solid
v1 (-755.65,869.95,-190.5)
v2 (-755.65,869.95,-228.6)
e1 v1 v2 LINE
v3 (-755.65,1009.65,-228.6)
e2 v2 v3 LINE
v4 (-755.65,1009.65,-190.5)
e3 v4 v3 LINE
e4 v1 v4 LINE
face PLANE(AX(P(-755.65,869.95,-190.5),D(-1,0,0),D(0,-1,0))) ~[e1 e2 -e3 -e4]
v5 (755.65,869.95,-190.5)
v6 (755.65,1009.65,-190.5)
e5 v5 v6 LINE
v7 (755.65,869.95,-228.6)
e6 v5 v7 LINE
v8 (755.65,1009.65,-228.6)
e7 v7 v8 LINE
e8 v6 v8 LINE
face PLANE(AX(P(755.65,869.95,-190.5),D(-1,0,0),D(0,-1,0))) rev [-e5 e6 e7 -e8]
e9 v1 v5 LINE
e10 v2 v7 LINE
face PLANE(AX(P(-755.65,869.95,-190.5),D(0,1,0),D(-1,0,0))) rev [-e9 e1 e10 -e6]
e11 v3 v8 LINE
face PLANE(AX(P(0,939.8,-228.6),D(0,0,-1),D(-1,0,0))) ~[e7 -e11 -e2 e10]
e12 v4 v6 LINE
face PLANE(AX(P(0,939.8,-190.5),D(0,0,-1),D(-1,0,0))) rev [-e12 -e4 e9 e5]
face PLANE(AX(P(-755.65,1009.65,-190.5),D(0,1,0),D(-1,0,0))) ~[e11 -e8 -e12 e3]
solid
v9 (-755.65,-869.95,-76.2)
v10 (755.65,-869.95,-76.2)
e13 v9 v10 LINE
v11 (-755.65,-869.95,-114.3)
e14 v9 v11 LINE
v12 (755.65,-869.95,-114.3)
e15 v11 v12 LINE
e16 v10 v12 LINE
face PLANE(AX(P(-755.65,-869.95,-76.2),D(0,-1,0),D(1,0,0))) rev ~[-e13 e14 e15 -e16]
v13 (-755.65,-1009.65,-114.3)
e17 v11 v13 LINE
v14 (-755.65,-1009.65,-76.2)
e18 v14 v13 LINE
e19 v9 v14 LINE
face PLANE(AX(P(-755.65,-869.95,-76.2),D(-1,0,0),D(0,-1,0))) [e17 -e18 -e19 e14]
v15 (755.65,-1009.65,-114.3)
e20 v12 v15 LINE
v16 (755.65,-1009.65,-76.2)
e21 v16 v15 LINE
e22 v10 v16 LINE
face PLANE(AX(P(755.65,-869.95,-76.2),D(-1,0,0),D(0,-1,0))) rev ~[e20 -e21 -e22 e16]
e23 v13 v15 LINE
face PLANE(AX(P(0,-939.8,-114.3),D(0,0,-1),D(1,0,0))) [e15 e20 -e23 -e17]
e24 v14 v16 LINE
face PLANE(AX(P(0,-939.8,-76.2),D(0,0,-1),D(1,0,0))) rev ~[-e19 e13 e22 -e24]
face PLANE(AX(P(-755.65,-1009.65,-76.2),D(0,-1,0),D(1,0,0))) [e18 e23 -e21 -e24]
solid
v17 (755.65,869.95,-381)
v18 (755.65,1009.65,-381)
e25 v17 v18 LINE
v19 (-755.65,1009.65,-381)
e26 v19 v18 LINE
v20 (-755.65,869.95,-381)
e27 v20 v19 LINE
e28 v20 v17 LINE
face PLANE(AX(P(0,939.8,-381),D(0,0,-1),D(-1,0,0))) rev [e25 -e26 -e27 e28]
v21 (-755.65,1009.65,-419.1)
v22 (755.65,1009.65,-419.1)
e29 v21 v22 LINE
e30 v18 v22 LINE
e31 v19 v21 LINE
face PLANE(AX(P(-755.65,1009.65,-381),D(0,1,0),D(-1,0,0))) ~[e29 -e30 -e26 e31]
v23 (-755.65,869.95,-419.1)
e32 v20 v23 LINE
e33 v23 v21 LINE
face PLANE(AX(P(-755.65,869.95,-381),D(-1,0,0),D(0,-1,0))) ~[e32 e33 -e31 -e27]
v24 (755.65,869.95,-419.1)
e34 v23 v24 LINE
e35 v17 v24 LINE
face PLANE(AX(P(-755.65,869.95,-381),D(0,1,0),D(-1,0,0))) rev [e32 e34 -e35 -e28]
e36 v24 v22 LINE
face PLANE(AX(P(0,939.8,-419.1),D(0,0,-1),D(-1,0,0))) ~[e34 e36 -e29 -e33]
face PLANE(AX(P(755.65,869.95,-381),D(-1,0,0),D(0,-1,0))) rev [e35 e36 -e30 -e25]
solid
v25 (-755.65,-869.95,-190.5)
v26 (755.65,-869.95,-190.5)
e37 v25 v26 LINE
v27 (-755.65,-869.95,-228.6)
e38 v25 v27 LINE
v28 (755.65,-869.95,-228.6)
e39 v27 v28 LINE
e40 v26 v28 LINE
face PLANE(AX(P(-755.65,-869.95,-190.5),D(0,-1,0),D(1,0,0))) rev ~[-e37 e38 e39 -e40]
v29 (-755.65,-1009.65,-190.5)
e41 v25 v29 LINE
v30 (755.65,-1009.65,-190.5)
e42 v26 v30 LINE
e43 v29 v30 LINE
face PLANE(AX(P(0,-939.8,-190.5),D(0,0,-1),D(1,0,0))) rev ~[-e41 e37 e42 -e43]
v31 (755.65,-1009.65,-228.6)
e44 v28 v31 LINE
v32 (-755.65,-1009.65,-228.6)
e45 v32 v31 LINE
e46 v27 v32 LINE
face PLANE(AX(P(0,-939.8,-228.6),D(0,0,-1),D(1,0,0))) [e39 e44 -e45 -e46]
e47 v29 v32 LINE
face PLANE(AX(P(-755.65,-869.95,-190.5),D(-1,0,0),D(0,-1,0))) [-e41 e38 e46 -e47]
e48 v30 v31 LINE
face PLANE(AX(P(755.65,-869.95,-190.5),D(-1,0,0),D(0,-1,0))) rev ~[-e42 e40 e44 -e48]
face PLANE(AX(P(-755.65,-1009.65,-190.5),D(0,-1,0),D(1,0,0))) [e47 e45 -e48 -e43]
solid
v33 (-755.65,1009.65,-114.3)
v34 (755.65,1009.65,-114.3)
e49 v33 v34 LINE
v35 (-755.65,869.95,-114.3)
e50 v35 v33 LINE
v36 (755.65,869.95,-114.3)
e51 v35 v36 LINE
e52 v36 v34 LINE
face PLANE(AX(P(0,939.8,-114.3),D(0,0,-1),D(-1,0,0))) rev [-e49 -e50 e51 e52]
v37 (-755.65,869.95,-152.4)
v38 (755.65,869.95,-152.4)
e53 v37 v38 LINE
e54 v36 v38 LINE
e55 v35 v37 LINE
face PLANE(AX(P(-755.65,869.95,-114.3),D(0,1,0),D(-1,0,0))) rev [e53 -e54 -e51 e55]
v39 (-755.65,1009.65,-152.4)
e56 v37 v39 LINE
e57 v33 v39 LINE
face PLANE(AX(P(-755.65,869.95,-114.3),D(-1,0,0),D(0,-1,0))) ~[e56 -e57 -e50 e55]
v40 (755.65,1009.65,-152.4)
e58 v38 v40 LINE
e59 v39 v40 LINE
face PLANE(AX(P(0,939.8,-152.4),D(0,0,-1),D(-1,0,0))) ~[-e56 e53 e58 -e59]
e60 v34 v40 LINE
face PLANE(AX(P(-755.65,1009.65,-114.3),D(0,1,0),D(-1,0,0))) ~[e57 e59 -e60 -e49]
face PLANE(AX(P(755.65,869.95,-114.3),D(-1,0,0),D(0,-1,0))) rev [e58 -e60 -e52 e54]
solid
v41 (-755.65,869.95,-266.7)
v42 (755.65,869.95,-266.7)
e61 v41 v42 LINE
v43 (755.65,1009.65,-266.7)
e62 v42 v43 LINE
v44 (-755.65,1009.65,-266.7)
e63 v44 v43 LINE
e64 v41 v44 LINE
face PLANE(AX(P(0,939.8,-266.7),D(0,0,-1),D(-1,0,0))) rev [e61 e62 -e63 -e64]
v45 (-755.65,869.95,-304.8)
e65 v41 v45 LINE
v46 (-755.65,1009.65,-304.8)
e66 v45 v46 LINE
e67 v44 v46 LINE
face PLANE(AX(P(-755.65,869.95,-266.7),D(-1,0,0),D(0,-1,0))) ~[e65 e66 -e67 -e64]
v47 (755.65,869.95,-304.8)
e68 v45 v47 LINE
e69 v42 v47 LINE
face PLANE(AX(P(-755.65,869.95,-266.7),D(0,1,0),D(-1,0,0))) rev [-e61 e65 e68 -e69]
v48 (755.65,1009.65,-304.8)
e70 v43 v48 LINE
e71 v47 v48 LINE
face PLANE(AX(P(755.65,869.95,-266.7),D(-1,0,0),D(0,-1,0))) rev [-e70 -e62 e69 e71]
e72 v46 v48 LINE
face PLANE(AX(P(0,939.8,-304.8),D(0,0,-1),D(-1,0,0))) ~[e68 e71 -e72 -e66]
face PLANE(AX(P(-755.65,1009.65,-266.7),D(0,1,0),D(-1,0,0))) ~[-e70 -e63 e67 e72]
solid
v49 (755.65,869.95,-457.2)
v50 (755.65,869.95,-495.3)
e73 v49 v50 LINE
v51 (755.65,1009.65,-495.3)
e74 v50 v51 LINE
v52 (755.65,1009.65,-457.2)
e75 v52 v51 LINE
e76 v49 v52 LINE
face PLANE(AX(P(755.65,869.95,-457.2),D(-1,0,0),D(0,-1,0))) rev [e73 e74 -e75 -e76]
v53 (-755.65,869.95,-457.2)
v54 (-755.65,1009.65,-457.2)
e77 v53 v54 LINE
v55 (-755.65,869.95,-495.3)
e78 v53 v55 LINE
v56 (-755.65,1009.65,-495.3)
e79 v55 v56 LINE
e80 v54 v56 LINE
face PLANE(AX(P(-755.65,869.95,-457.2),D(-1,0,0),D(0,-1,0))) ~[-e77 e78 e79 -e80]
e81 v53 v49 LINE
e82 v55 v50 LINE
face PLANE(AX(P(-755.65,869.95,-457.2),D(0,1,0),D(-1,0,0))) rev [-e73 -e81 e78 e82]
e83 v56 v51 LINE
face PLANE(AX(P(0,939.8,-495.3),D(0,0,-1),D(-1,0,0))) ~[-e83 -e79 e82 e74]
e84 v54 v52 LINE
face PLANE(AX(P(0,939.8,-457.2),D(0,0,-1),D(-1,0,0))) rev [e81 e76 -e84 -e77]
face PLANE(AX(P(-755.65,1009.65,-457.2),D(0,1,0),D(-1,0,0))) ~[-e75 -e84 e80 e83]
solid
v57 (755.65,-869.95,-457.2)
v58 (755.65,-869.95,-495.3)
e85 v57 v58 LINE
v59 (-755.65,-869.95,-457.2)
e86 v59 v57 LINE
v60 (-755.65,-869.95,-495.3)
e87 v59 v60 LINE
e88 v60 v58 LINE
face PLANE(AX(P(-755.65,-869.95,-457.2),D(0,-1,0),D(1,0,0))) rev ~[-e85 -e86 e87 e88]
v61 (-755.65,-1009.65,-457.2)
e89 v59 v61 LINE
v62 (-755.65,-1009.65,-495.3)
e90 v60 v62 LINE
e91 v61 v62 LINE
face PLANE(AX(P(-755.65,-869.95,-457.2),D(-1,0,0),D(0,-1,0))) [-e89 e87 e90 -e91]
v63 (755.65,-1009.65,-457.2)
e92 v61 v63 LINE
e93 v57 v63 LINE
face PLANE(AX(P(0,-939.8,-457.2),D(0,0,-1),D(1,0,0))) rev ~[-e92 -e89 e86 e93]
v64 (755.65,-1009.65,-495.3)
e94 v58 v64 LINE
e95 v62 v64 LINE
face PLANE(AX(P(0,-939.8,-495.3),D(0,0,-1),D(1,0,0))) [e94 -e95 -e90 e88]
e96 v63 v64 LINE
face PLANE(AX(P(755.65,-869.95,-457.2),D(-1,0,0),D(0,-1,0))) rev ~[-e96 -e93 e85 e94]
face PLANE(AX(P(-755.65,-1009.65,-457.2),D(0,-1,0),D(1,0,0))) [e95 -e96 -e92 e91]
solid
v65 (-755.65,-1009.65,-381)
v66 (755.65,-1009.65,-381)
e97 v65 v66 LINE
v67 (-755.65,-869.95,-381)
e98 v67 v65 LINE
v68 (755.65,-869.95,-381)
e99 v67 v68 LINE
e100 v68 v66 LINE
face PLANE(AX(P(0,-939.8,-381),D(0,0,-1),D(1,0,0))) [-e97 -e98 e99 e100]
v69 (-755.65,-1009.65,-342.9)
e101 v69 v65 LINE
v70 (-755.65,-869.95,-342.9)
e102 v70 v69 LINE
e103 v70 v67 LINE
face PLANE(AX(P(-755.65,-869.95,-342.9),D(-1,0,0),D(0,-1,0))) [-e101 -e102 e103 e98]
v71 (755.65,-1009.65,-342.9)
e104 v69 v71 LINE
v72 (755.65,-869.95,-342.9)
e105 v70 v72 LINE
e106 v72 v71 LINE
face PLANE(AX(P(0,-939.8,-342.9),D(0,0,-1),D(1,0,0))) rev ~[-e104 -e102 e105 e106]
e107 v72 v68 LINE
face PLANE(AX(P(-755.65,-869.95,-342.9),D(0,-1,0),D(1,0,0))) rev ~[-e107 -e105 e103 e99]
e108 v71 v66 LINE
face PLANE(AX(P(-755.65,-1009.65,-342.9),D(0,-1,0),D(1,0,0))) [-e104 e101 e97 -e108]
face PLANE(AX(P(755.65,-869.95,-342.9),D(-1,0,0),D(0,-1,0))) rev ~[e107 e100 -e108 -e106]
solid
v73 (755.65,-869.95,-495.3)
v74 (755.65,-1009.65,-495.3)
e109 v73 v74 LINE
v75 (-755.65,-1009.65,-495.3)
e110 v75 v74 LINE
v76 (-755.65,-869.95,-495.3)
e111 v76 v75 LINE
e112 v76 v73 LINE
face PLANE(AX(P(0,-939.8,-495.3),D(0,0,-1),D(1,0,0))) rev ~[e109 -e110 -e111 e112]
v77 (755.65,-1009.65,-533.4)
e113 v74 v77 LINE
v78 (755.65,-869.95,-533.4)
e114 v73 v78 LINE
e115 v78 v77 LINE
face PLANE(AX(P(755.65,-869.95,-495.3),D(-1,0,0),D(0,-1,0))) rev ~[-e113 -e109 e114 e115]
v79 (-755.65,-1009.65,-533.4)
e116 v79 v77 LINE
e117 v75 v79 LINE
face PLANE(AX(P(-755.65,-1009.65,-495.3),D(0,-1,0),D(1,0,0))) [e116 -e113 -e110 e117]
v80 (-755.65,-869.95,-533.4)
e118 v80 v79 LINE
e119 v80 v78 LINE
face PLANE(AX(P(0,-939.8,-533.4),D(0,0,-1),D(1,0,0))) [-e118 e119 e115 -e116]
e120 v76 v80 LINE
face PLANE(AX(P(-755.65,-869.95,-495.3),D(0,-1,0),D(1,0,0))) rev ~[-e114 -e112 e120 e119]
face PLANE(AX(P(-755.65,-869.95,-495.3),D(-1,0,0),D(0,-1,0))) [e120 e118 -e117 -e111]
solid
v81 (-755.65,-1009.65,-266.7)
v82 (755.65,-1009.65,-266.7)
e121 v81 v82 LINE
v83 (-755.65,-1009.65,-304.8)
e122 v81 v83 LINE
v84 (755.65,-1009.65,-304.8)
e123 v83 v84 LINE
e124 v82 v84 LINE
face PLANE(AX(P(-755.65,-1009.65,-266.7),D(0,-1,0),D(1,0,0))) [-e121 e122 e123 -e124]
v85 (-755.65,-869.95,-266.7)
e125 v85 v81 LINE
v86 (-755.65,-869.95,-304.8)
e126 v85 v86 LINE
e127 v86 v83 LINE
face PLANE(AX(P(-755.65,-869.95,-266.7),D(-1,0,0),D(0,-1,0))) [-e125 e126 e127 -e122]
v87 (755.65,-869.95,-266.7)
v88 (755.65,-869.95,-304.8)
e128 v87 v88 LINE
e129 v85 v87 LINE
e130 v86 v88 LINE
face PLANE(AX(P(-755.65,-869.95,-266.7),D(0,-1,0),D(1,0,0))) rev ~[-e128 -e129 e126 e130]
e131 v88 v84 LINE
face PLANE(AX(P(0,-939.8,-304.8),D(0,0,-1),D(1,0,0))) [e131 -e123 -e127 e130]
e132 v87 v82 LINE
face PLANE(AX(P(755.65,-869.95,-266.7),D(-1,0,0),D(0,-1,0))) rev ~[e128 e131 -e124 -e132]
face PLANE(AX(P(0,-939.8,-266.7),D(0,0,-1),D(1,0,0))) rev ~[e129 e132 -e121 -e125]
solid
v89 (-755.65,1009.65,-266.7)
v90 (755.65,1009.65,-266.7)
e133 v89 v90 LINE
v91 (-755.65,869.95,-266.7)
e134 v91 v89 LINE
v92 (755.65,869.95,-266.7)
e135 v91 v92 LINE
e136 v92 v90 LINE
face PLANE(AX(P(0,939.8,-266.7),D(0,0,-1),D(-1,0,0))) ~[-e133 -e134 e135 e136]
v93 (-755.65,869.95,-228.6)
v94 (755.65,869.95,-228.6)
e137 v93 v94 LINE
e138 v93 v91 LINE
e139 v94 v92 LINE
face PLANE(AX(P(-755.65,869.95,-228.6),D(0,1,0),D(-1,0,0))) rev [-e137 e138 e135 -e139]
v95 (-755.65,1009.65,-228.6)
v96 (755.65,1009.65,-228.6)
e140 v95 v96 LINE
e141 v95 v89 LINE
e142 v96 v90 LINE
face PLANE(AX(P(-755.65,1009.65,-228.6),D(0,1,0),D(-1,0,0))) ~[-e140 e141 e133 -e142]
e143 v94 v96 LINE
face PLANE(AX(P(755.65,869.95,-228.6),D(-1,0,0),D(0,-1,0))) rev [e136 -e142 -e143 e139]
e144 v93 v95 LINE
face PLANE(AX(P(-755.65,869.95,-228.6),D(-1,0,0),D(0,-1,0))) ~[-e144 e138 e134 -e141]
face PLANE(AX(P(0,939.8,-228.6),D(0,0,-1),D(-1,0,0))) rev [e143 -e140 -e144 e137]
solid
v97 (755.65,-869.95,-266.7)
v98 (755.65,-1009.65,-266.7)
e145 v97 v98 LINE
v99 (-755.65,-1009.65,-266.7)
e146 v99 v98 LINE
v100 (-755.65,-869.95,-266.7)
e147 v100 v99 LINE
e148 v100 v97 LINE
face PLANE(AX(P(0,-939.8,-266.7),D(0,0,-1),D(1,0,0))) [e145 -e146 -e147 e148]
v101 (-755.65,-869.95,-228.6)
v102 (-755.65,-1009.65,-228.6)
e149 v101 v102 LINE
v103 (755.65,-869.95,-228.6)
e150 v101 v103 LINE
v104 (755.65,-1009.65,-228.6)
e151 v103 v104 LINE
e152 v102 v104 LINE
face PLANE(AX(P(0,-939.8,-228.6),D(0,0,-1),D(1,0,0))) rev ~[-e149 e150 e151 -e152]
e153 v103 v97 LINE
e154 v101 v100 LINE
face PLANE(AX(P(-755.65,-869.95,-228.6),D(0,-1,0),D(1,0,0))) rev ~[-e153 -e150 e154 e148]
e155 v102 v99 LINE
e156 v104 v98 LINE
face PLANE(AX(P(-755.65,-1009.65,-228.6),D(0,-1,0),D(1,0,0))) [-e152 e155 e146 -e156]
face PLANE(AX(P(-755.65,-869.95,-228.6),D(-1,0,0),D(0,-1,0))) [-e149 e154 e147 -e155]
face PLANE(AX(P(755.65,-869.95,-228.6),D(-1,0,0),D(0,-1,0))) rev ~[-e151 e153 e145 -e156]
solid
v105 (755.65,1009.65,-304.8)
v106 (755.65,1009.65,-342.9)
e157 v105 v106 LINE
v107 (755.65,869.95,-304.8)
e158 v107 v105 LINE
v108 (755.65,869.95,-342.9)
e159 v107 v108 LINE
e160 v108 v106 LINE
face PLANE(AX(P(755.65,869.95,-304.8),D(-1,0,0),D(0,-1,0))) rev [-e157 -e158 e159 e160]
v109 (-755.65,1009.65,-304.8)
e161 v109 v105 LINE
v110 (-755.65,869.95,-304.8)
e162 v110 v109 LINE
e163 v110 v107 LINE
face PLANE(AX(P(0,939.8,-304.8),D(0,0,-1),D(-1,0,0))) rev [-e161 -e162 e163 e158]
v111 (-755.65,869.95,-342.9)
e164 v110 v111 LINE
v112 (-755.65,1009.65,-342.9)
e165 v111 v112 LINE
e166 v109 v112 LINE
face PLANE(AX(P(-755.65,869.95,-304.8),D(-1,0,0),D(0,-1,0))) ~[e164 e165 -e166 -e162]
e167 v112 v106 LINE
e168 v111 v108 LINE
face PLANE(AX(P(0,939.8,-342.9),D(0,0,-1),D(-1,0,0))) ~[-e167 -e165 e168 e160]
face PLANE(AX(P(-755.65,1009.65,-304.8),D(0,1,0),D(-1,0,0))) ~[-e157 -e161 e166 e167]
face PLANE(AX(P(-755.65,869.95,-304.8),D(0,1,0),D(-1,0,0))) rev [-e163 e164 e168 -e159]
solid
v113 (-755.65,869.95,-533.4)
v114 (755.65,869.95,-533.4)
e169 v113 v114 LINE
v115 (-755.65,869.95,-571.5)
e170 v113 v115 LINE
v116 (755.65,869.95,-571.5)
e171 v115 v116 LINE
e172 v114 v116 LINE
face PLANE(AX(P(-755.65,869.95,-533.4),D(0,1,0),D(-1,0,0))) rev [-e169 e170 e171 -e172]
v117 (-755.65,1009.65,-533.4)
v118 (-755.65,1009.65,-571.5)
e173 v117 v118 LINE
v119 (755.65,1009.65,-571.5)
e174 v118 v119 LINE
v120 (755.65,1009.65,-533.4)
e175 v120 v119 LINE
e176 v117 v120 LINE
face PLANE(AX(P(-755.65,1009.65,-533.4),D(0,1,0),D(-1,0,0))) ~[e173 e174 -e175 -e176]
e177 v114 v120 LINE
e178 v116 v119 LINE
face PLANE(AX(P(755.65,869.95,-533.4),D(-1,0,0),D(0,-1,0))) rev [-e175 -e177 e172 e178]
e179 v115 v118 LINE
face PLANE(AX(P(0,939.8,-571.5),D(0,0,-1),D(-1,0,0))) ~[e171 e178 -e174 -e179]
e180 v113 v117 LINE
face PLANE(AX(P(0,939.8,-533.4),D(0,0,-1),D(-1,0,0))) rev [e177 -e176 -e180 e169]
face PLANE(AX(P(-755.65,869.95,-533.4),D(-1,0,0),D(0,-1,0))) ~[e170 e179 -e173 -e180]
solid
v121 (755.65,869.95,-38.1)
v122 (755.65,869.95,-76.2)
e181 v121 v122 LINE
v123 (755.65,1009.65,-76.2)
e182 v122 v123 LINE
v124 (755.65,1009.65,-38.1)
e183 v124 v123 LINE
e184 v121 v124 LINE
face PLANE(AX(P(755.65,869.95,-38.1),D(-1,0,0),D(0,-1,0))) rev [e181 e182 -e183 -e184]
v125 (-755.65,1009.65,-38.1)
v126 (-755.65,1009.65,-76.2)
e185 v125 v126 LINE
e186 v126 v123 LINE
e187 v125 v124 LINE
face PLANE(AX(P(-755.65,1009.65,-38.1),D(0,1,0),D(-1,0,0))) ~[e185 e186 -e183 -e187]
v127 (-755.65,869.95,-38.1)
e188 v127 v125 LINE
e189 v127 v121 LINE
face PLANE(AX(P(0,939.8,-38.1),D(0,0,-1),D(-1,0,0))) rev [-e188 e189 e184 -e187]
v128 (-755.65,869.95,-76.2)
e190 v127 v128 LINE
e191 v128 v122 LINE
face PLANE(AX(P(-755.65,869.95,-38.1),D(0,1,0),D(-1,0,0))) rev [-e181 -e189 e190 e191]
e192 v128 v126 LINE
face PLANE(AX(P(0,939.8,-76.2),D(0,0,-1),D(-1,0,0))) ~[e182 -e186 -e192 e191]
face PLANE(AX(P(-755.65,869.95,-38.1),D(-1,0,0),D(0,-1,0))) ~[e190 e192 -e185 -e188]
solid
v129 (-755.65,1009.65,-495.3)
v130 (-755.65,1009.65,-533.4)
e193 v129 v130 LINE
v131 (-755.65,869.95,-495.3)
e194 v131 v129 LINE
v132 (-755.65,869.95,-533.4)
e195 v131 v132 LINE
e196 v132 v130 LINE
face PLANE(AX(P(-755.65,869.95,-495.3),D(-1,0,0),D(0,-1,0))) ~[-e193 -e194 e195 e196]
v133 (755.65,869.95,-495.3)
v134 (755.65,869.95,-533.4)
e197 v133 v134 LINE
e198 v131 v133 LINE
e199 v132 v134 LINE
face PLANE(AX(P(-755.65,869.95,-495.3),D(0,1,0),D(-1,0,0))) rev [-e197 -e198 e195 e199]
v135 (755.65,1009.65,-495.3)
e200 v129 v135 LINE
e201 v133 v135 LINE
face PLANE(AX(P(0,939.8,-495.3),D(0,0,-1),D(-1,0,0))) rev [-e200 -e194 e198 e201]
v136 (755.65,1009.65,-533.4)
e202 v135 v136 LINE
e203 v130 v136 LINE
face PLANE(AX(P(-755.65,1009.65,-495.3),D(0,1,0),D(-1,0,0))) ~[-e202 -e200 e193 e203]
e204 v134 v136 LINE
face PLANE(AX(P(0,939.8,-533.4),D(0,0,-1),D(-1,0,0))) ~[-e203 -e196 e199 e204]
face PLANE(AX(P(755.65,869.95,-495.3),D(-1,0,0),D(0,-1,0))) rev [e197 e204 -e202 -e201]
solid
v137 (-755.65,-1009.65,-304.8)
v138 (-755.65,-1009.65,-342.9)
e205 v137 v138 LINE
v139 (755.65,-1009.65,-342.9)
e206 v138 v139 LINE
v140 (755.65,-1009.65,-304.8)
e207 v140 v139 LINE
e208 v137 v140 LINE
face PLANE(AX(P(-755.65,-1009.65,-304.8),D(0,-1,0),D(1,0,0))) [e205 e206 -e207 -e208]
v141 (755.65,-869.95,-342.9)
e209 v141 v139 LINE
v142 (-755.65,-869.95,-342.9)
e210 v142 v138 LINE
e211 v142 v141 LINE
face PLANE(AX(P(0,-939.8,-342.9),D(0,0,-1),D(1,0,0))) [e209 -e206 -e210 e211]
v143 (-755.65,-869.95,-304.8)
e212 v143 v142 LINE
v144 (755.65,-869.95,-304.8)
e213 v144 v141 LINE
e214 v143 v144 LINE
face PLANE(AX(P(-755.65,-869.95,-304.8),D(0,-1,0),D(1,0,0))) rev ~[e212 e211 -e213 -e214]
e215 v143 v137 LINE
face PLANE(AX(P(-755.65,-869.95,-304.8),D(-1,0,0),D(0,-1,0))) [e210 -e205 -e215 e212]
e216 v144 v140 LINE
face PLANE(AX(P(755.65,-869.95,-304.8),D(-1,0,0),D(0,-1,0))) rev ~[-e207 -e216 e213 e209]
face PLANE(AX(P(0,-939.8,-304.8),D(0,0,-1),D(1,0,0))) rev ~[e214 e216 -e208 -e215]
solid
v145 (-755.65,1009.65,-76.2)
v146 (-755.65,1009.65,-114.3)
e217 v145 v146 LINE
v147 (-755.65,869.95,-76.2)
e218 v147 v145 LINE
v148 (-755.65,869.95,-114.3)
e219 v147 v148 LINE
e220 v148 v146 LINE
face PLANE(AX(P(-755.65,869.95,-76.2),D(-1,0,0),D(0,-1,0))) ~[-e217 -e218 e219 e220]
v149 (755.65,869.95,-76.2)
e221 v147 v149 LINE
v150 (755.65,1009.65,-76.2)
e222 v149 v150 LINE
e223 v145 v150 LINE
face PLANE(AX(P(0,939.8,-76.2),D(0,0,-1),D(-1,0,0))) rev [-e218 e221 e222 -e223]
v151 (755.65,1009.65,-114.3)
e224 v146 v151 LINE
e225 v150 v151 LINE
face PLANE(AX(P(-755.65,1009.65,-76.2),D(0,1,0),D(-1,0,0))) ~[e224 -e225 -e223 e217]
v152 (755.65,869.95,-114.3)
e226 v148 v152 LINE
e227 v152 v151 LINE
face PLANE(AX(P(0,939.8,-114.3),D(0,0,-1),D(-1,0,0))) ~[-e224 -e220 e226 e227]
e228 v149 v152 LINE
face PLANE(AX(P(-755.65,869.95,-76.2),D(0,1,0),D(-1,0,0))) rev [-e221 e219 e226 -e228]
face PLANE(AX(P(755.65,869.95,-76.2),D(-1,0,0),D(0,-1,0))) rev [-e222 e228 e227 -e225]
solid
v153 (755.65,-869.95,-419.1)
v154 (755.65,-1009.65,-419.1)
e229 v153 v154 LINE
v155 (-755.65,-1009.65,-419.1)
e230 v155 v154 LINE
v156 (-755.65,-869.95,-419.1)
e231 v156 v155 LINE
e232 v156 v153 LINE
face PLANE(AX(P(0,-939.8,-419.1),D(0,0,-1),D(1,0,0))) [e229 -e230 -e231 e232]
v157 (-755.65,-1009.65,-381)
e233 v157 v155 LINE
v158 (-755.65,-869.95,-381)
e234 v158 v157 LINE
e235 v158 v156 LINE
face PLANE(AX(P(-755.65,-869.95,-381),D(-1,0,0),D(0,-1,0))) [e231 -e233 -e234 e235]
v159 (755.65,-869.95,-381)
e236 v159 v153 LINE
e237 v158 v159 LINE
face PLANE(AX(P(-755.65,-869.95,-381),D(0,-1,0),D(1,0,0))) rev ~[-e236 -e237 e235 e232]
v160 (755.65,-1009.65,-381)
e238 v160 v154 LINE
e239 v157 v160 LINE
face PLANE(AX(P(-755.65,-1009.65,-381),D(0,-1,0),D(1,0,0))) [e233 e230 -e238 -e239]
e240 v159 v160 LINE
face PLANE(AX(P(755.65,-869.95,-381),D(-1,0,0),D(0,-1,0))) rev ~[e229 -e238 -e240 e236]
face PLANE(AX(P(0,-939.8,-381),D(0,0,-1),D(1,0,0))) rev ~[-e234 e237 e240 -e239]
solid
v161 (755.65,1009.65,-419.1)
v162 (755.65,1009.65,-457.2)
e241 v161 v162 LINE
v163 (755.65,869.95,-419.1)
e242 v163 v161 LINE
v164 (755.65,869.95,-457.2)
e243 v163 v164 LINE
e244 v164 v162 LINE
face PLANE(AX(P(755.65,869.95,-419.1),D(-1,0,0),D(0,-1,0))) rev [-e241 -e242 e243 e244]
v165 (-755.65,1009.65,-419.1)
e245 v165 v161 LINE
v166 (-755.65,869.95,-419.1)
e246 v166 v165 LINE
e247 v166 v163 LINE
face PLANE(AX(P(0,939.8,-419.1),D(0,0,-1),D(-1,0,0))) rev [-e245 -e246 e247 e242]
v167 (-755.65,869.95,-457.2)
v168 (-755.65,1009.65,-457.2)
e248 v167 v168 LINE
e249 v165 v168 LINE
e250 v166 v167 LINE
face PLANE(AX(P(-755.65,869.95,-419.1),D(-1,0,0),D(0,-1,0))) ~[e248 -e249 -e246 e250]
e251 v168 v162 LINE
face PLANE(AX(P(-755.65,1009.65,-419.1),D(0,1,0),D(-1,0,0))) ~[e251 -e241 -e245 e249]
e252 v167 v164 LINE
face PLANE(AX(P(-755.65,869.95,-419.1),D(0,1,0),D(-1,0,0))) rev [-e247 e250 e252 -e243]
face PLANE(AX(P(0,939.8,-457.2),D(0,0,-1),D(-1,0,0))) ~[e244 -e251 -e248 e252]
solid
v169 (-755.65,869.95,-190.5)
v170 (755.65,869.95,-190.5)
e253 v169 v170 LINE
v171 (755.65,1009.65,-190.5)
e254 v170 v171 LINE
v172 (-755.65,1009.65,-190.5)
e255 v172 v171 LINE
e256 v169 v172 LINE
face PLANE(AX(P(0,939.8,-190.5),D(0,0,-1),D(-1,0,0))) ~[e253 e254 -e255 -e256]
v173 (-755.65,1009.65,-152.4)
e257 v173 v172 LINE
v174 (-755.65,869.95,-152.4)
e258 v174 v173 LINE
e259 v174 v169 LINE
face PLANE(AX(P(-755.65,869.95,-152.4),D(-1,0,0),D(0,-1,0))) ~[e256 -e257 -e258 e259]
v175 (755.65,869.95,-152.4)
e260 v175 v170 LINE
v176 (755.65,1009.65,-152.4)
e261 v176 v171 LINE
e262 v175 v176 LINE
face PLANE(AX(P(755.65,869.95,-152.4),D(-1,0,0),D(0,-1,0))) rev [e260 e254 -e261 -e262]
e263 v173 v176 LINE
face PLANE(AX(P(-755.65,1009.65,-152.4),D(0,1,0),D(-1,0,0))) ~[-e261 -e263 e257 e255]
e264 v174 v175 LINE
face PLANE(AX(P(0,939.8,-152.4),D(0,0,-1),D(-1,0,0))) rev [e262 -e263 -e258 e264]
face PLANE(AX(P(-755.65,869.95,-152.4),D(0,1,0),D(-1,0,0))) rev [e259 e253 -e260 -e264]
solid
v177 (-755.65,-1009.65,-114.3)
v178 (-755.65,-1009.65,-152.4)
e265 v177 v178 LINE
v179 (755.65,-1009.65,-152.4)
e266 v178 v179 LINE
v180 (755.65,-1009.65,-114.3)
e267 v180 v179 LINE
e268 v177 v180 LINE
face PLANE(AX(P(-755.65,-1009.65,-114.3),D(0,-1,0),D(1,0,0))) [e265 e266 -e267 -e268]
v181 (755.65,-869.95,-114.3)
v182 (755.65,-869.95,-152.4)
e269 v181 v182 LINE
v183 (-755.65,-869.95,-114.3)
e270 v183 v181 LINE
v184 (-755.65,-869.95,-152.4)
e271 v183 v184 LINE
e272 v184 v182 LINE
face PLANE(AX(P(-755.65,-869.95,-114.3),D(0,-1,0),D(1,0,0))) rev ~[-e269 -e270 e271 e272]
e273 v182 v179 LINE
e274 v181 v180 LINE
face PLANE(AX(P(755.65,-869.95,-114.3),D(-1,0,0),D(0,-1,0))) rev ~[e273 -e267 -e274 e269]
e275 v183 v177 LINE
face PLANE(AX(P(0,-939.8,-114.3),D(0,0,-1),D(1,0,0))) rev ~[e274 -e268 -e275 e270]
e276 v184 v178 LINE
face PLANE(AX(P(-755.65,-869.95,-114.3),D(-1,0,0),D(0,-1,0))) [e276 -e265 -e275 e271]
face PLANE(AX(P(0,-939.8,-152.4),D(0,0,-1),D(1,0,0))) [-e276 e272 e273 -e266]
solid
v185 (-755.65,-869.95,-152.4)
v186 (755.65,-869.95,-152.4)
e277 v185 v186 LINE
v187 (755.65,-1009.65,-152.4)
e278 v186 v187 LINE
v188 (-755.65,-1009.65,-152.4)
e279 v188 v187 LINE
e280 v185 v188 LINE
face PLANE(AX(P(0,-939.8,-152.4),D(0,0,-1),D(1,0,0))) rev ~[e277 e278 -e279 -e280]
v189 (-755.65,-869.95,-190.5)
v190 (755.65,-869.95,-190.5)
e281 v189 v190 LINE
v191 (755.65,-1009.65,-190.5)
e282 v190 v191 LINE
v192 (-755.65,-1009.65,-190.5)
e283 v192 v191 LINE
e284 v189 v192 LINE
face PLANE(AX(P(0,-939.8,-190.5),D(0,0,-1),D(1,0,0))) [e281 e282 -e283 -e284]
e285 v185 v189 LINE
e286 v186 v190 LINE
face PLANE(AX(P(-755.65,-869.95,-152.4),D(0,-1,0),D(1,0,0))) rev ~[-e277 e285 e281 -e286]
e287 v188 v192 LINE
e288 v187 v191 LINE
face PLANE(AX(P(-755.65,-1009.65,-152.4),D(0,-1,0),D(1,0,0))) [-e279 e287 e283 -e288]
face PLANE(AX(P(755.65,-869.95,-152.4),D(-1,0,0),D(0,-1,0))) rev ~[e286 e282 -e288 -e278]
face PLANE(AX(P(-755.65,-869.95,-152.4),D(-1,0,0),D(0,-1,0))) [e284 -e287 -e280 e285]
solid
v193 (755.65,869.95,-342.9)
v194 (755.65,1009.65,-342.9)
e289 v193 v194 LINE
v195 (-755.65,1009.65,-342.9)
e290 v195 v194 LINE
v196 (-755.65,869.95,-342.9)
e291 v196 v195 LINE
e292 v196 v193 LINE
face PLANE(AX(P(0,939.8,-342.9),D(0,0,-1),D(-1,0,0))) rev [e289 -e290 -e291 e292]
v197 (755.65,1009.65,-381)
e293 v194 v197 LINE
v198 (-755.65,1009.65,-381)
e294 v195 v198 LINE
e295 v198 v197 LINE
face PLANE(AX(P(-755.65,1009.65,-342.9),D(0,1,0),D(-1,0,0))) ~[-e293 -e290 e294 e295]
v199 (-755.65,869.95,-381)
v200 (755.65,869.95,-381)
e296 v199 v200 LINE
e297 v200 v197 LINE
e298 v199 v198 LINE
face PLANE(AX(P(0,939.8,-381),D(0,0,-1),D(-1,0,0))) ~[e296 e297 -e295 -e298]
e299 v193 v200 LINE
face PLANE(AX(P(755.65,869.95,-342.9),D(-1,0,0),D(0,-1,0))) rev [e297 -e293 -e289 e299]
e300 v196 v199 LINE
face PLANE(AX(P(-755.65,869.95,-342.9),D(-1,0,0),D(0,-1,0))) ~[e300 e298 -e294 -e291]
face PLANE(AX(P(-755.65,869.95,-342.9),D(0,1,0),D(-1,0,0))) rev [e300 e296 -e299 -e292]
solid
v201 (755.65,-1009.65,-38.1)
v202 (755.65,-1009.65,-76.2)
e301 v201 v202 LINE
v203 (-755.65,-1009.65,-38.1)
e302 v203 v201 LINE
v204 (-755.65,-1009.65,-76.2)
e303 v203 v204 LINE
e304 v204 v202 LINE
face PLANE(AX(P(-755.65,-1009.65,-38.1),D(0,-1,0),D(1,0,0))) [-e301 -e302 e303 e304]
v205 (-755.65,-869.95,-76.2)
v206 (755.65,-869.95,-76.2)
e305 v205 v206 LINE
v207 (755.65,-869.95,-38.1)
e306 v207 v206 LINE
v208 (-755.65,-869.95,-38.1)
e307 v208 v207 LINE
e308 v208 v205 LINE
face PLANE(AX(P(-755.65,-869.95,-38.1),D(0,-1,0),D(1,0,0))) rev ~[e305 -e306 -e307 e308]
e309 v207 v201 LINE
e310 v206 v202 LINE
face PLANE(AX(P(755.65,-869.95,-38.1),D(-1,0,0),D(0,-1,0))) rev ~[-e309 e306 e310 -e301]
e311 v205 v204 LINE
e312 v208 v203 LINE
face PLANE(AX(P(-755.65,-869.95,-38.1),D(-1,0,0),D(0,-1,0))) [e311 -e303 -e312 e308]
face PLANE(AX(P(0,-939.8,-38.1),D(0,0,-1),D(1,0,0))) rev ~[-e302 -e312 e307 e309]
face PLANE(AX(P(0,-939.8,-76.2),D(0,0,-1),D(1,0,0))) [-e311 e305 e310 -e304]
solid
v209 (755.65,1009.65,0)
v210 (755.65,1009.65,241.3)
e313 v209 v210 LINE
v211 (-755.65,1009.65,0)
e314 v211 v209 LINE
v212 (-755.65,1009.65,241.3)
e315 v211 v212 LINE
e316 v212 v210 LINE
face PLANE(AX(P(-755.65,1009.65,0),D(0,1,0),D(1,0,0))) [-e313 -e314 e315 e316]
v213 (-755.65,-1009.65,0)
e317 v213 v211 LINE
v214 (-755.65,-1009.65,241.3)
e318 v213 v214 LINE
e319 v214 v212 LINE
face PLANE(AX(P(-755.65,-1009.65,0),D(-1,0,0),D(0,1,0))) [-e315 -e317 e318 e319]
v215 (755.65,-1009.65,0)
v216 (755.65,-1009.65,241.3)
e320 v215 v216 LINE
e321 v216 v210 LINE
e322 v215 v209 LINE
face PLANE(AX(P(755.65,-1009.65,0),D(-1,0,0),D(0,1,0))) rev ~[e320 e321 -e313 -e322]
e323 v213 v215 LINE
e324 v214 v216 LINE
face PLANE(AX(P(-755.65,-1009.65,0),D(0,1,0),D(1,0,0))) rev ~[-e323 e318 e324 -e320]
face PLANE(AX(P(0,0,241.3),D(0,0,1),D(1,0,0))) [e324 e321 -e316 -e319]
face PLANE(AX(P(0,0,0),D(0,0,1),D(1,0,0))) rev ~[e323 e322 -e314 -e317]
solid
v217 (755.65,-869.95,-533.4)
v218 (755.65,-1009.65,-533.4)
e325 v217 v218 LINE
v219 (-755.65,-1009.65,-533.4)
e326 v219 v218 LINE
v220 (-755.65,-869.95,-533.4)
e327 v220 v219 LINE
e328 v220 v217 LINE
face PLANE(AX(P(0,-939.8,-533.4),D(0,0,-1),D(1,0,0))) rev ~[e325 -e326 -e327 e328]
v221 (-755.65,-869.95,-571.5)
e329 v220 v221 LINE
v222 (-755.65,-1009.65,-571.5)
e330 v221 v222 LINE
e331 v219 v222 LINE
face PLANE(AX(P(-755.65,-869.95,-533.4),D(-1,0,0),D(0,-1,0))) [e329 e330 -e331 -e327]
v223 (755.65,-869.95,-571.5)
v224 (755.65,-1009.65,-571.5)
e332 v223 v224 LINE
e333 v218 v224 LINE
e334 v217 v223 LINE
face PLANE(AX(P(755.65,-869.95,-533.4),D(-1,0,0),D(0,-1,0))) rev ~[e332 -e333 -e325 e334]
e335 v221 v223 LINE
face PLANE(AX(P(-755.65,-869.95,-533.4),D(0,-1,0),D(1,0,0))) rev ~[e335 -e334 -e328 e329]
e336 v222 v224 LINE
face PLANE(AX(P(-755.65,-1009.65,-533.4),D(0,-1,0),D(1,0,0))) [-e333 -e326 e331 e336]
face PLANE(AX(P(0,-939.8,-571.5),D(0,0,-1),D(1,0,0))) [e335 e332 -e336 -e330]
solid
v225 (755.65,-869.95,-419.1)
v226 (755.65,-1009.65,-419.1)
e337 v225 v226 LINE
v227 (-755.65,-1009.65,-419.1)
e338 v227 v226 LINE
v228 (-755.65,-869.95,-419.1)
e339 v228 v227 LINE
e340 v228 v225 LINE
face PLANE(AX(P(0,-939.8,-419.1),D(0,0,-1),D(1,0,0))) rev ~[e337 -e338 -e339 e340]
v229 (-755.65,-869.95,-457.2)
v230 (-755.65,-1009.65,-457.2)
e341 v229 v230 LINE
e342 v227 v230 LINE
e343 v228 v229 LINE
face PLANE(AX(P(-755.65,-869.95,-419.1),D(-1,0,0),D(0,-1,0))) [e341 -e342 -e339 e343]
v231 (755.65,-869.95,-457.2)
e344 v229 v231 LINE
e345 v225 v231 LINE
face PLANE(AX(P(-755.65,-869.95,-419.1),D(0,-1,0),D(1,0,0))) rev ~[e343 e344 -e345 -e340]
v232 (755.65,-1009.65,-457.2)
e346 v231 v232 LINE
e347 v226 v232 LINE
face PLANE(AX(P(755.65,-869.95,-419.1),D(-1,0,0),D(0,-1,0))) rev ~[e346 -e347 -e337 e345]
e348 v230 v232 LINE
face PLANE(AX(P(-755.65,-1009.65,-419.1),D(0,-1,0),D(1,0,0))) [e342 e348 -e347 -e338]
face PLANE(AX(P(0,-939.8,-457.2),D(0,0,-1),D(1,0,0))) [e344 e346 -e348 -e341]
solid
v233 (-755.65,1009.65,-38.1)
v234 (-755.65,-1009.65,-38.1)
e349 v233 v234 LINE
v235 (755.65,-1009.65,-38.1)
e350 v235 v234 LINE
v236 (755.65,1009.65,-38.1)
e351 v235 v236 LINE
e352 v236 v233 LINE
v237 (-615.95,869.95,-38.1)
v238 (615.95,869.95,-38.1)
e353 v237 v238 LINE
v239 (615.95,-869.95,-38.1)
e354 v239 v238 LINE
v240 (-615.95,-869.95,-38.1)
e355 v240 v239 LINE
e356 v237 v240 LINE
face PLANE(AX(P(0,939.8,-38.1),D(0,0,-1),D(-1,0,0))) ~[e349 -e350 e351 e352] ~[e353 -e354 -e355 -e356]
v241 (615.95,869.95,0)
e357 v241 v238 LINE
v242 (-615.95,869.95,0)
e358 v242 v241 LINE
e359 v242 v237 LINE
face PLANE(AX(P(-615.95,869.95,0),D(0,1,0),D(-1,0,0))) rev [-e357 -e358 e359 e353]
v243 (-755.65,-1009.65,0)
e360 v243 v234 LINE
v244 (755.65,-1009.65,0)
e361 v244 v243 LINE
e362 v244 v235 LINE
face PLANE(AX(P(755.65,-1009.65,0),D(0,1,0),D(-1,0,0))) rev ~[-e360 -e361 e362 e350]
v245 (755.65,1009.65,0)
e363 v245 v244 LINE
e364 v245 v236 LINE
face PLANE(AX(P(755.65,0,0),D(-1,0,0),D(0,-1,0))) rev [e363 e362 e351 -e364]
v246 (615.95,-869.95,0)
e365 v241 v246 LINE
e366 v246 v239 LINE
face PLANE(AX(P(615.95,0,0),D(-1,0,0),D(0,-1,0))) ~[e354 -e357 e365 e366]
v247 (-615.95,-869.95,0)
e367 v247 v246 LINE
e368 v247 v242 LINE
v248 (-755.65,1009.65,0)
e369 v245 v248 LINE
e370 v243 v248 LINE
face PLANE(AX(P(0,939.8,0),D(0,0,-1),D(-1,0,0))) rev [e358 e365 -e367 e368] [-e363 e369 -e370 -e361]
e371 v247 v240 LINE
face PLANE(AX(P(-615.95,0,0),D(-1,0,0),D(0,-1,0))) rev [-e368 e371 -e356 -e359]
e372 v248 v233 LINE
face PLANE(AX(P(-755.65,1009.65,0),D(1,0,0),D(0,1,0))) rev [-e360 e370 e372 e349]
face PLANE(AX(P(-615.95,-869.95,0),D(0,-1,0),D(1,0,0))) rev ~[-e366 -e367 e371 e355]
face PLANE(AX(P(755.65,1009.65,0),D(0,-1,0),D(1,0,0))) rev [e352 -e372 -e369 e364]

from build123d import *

# Parameters (mm, degrees)
F0_W      = 1511.3
F0_H      = 2019.3
F1_DEPTH  = 241.3
F5_W      = 139.7
F5_H      = 869.95
F6_DEPTH  = 38.1
F7_W      = 1511.3
F7_H      = 139.7
F8_DEPTH  = 38.1
F9_W      = 1511.3
F9_H      = 139.7
F10_DEPTH = 38.1
F11_W     = 1511.3
F11_H     = 139.7
F12_DEPTH = 38.1
F13_W     = 1511.3
F13_H     = 139.7
F14_DEPTH = 38.1
F15_W     = 1511.3
F15_H     = 139.7
F16_DEPTH = 38.1
F17_W     = 1511.3
F17_H     = 139.7
F18_DEPTH = 38.1
F19_W     = 1511.3
F19_H     = 139.7
F20_DEPTH = 38.1
F21_W     = 1511.3
F21_H     = 139.7
F22_DEPTH = 38.1
F23_W     = 1511.3
F23_H     = 139.7
F24_DEPTH = 38.1
F25_W     = 1511.3
F25_H     = 139.7
F26_DEPTH = 38.1
F27_W     = 1511.3
F27_H     = 139.7
F28_DEPTH = 38.1
F29_W     = 1511.3
F29_H     = 139.7
F30_DEPTH = 38.1
F31_W     = 1511.3
F31_H     = 139.7
F32_DEPTH = 38.1
F33_W     = 1511.3
F33_H     = 139.7
F34_DEPTH = 38.1


with BuildPart() as f1:
    # F0 (on Top) → F1 (new body)
    with BuildSketch(Plane.XY):
        Rectangle(F0_W, F0_H)
    extrude(amount=F1_DEPTH)


with BuildPart() as f6:
    # F5 (on face) → F6 (new body)
    with BuildSketch(Plane(origin=(0, 0, 0), x_dir=(1, 0, 0), z_dir=(0, 0, -1))):
        Polygon((755.65, 1009.65), (-755.65, 1009.65), (-755.65, 869.95), (-615.95, 869.95), (615.95, 869.95), (755.65, 869.95), align=None)
        with Locations((-685.8, 434.975)):
            Rectangle(F5_W, F5_H)
        with Locations((685.8, 434.975)):
            Rectangle(F5_W, F5_H)
    extrude(amount=F6_DEPTH)

    # F36: F6 across plane


with BuildPart() as f8:
    # F7 (on face) → F8 (new body)
    with BuildSketch(Plane(origin=(0, 0, -38.1), x_dir=(1, 0, 0), z_dir=(0, 0, -1))):
        with Locations((0, 939.8)):
            Rectangle(F7_W, F7_H)
    extrude(amount=F8_DEPTH)


with BuildPart() as f10:
    # F9 (on face) → F10 (new body)
    with BuildSketch(Plane(origin=(0, 0, -76.2), x_dir=(1, 0, 0), z_dir=(0, 0, -1))):
        with Locations((0, 939.8)):
            Rectangle(F9_W, F9_H)
    extrude(amount=F10_DEPTH)


with BuildPart() as f12:
    # F11 (on face) → F12 (new body)
    with BuildSketch(Plane(origin=(0, 0, -114.3), x_dir=(1, 0, 0), z_dir=(0, 0, -1))):
        with Locations((0, 939.8)):
            Rectangle(F11_W, F11_H)
    extrude(amount=F12_DEPTH)


with BuildPart() as f14:
    # F13 (on face) → F14 (new body)
    with BuildSketch(Plane(origin=(0, 0, -152.4), x_dir=(1, 0, 0), z_dir=(0, 0, -1))):
        with Locations((0, 939.8)):
            Rectangle(F13_W, F13_H)
    extrude(amount=F14_DEPTH)


with BuildPart() as f16:
    # F15 (on face) → F16 (new body)
    with BuildSketch(Plane(origin=(0, 0, -190.5), x_dir=(1, 0, 0), z_dir=(0, 0, -1))):
        with Locations((0, 939.8)):
            Rectangle(F15_W, F15_H)
    extrude(amount=F16_DEPTH)


with BuildPart() as f18:
    # F17 (on face) → F18 (new body)
    with BuildSketch(Plane(origin=(0, 0, -228.6), x_dir=(1, 0, 0), z_dir=(0, 0, -1))):
        with Locations((0, 939.8)):
            Rectangle(F17_W, F17_H)
    extrude(amount=F18_DEPTH)


with BuildPart() as f20:
    # F19 (on face) → F20 (new body)
    with BuildSketch(Plane(origin=(0, 0, -266.7), x_dir=(1, 0, 0), z_dir=(0, 0, -1))):
        with Locations((0, 939.8)):
            Rectangle(F19_W, F19_H)
    extrude(amount=F20_DEPTH)


with BuildPart() as f22:
    # F21 (on face) → F22 (new body)
    with BuildSketch(Plane(origin=(0, 0, -304.8), x_dir=(1, 0, 0), z_dir=(0, 0, -1))):
        with Locations((0, 939.8)):
            Rectangle(F21_W, F21_H)
    extrude(amount=F22_DEPTH)


with BuildPart() as f24:
    # F23 (on face) → F24 (new body)
    with BuildSketch(Plane(origin=(0, 0, -342.9), x_dir=(1, 0, 0), z_dir=(0, 0, -1))):
        with Locations((0, 939.8)):
            Rectangle(F23_W, F23_H)
    extrude(amount=F24_DEPTH)


with BuildPart() as f26:
    # F25 (on face) → F26 (new body)
    with BuildSketch(Plane(origin=(0, 0, -381), x_dir=(1, 0, 0), z_dir=(0, 0, -1))):
        with Locations((0, 939.8)):
            Rectangle(F25_W, F25_H)
    extrude(amount=F26_DEPTH)


with BuildPart() as f28:
    # F27 (on face) → F28 (new body)
    with BuildSketch(Plane(origin=(0, 0, -419.1), x_dir=(1, 0, 0), z_dir=(0, 0, -1))):
        with Locations((0, 939.8)):
            Rectangle(F27_W, F27_H)
    extrude(amount=F28_DEPTH)


with BuildPart() as f30:
    # F29 (on face) → F30 (new body)
    with BuildSketch(Plane(origin=(0, 0, -457.2), x_dir=(1, 0, 0), z_dir=(0, 0, -1))):
        with Locations((0, 939.8)):
            Rectangle(F29_W, F29_H)
    extrude(amount=F30_DEPTH)


with BuildPart() as f32:
    # F31 (on face) → F32 (new body)
    with BuildSketch(Plane(origin=(0, 0, -495.3), x_dir=(1, 0, 0), z_dir=(0, 0, -1))):
        with Locations((0, 939.8)):
            Rectangle(F31_W, F31_H)
    extrude(amount=F32_DEPTH)


with BuildPart() as f34:
    # F33 (on face) → F34 (new body)
    with BuildSketch(Plane(origin=(0, 0, -533.4), x_dir=(1, 0, 0), z_dir=(0, 0, -1))):
        with Locations((0, 939.8)):
            Rectangle(F33_W, F33_H)
    extrude(amount=F34_DEPTH)


with BuildPart() as f35_1:
    # F35: instance of F10
    add(f10.part.mirror(Plane.XZ))


with BuildPart() as f35_2:
    # F35: instance of F12
    add(f12.part.mirror(Plane.XZ))


with BuildPart() as f35_3:
    # F35: instance of F14
    add(f14.part.mirror(Plane.XZ))


with BuildPart() as f35_4:
    # F35: instance of F16
    add(f16.part.mirror(Plane.XZ))


with BuildPart() as f35_5:
    # F35: instance of F18
    add(f18.part.mirror(Plane.XZ))


with BuildPart() as f35_6:
    # F35: instance of F20
    add(f20.part.mirror(Plane.XZ))


with BuildPart() as f35_7:
    # F35: instance of F22
    add(f22.part.mirror(Plane.XZ))


with BuildPart() as f35_8:
    # F35: instance of F24
    add(f24.part.mirror(Plane.XZ))


with BuildPart() as f35_9:
    # F35: instance of F26
    add(f26.part.mirror(Plane.XZ))


with BuildPart() as f35_10:
    # F35: instance of F28
    add(f28.part.mirror(Plane.XZ))


with BuildPart() as f35_11:
    # F35: instance of F30
    add(f30.part.mirror(Plane.XZ))


with BuildPart() as f35_12:
    # F35: instance of F32
    add(f32.part.mirror(Plane.XZ))


with BuildPart() as f35_13:
    # F35: instance of F34
    add(f34.part.mirror(Plane.XZ))


with BuildPart() as f35_14:
    # F35: instance of F8
    add(f8.part.mirror(Plane.XZ))


with BuildPart() as f6_1:
    add(f6.part)
    add(f6.part.mirror(Plane.XZ))


solid = Compound([f1.part, f8.part, f10.part, f12.part, f14.part, f16.part, f18.part, f20.part, f22.part, f24.part, f26.part, f28.part, f30.part, f32.part, f34.part, f35_1.part, f35_2.part, f35_3.part, f35_4.part, f35_5.part, f35_6.part, f35_7.part, f35_8.part, f35_9.part, f35_10.part, f35_11.part, f35_12.part, f35_13.part, f35_14.part, f6_1.part])
